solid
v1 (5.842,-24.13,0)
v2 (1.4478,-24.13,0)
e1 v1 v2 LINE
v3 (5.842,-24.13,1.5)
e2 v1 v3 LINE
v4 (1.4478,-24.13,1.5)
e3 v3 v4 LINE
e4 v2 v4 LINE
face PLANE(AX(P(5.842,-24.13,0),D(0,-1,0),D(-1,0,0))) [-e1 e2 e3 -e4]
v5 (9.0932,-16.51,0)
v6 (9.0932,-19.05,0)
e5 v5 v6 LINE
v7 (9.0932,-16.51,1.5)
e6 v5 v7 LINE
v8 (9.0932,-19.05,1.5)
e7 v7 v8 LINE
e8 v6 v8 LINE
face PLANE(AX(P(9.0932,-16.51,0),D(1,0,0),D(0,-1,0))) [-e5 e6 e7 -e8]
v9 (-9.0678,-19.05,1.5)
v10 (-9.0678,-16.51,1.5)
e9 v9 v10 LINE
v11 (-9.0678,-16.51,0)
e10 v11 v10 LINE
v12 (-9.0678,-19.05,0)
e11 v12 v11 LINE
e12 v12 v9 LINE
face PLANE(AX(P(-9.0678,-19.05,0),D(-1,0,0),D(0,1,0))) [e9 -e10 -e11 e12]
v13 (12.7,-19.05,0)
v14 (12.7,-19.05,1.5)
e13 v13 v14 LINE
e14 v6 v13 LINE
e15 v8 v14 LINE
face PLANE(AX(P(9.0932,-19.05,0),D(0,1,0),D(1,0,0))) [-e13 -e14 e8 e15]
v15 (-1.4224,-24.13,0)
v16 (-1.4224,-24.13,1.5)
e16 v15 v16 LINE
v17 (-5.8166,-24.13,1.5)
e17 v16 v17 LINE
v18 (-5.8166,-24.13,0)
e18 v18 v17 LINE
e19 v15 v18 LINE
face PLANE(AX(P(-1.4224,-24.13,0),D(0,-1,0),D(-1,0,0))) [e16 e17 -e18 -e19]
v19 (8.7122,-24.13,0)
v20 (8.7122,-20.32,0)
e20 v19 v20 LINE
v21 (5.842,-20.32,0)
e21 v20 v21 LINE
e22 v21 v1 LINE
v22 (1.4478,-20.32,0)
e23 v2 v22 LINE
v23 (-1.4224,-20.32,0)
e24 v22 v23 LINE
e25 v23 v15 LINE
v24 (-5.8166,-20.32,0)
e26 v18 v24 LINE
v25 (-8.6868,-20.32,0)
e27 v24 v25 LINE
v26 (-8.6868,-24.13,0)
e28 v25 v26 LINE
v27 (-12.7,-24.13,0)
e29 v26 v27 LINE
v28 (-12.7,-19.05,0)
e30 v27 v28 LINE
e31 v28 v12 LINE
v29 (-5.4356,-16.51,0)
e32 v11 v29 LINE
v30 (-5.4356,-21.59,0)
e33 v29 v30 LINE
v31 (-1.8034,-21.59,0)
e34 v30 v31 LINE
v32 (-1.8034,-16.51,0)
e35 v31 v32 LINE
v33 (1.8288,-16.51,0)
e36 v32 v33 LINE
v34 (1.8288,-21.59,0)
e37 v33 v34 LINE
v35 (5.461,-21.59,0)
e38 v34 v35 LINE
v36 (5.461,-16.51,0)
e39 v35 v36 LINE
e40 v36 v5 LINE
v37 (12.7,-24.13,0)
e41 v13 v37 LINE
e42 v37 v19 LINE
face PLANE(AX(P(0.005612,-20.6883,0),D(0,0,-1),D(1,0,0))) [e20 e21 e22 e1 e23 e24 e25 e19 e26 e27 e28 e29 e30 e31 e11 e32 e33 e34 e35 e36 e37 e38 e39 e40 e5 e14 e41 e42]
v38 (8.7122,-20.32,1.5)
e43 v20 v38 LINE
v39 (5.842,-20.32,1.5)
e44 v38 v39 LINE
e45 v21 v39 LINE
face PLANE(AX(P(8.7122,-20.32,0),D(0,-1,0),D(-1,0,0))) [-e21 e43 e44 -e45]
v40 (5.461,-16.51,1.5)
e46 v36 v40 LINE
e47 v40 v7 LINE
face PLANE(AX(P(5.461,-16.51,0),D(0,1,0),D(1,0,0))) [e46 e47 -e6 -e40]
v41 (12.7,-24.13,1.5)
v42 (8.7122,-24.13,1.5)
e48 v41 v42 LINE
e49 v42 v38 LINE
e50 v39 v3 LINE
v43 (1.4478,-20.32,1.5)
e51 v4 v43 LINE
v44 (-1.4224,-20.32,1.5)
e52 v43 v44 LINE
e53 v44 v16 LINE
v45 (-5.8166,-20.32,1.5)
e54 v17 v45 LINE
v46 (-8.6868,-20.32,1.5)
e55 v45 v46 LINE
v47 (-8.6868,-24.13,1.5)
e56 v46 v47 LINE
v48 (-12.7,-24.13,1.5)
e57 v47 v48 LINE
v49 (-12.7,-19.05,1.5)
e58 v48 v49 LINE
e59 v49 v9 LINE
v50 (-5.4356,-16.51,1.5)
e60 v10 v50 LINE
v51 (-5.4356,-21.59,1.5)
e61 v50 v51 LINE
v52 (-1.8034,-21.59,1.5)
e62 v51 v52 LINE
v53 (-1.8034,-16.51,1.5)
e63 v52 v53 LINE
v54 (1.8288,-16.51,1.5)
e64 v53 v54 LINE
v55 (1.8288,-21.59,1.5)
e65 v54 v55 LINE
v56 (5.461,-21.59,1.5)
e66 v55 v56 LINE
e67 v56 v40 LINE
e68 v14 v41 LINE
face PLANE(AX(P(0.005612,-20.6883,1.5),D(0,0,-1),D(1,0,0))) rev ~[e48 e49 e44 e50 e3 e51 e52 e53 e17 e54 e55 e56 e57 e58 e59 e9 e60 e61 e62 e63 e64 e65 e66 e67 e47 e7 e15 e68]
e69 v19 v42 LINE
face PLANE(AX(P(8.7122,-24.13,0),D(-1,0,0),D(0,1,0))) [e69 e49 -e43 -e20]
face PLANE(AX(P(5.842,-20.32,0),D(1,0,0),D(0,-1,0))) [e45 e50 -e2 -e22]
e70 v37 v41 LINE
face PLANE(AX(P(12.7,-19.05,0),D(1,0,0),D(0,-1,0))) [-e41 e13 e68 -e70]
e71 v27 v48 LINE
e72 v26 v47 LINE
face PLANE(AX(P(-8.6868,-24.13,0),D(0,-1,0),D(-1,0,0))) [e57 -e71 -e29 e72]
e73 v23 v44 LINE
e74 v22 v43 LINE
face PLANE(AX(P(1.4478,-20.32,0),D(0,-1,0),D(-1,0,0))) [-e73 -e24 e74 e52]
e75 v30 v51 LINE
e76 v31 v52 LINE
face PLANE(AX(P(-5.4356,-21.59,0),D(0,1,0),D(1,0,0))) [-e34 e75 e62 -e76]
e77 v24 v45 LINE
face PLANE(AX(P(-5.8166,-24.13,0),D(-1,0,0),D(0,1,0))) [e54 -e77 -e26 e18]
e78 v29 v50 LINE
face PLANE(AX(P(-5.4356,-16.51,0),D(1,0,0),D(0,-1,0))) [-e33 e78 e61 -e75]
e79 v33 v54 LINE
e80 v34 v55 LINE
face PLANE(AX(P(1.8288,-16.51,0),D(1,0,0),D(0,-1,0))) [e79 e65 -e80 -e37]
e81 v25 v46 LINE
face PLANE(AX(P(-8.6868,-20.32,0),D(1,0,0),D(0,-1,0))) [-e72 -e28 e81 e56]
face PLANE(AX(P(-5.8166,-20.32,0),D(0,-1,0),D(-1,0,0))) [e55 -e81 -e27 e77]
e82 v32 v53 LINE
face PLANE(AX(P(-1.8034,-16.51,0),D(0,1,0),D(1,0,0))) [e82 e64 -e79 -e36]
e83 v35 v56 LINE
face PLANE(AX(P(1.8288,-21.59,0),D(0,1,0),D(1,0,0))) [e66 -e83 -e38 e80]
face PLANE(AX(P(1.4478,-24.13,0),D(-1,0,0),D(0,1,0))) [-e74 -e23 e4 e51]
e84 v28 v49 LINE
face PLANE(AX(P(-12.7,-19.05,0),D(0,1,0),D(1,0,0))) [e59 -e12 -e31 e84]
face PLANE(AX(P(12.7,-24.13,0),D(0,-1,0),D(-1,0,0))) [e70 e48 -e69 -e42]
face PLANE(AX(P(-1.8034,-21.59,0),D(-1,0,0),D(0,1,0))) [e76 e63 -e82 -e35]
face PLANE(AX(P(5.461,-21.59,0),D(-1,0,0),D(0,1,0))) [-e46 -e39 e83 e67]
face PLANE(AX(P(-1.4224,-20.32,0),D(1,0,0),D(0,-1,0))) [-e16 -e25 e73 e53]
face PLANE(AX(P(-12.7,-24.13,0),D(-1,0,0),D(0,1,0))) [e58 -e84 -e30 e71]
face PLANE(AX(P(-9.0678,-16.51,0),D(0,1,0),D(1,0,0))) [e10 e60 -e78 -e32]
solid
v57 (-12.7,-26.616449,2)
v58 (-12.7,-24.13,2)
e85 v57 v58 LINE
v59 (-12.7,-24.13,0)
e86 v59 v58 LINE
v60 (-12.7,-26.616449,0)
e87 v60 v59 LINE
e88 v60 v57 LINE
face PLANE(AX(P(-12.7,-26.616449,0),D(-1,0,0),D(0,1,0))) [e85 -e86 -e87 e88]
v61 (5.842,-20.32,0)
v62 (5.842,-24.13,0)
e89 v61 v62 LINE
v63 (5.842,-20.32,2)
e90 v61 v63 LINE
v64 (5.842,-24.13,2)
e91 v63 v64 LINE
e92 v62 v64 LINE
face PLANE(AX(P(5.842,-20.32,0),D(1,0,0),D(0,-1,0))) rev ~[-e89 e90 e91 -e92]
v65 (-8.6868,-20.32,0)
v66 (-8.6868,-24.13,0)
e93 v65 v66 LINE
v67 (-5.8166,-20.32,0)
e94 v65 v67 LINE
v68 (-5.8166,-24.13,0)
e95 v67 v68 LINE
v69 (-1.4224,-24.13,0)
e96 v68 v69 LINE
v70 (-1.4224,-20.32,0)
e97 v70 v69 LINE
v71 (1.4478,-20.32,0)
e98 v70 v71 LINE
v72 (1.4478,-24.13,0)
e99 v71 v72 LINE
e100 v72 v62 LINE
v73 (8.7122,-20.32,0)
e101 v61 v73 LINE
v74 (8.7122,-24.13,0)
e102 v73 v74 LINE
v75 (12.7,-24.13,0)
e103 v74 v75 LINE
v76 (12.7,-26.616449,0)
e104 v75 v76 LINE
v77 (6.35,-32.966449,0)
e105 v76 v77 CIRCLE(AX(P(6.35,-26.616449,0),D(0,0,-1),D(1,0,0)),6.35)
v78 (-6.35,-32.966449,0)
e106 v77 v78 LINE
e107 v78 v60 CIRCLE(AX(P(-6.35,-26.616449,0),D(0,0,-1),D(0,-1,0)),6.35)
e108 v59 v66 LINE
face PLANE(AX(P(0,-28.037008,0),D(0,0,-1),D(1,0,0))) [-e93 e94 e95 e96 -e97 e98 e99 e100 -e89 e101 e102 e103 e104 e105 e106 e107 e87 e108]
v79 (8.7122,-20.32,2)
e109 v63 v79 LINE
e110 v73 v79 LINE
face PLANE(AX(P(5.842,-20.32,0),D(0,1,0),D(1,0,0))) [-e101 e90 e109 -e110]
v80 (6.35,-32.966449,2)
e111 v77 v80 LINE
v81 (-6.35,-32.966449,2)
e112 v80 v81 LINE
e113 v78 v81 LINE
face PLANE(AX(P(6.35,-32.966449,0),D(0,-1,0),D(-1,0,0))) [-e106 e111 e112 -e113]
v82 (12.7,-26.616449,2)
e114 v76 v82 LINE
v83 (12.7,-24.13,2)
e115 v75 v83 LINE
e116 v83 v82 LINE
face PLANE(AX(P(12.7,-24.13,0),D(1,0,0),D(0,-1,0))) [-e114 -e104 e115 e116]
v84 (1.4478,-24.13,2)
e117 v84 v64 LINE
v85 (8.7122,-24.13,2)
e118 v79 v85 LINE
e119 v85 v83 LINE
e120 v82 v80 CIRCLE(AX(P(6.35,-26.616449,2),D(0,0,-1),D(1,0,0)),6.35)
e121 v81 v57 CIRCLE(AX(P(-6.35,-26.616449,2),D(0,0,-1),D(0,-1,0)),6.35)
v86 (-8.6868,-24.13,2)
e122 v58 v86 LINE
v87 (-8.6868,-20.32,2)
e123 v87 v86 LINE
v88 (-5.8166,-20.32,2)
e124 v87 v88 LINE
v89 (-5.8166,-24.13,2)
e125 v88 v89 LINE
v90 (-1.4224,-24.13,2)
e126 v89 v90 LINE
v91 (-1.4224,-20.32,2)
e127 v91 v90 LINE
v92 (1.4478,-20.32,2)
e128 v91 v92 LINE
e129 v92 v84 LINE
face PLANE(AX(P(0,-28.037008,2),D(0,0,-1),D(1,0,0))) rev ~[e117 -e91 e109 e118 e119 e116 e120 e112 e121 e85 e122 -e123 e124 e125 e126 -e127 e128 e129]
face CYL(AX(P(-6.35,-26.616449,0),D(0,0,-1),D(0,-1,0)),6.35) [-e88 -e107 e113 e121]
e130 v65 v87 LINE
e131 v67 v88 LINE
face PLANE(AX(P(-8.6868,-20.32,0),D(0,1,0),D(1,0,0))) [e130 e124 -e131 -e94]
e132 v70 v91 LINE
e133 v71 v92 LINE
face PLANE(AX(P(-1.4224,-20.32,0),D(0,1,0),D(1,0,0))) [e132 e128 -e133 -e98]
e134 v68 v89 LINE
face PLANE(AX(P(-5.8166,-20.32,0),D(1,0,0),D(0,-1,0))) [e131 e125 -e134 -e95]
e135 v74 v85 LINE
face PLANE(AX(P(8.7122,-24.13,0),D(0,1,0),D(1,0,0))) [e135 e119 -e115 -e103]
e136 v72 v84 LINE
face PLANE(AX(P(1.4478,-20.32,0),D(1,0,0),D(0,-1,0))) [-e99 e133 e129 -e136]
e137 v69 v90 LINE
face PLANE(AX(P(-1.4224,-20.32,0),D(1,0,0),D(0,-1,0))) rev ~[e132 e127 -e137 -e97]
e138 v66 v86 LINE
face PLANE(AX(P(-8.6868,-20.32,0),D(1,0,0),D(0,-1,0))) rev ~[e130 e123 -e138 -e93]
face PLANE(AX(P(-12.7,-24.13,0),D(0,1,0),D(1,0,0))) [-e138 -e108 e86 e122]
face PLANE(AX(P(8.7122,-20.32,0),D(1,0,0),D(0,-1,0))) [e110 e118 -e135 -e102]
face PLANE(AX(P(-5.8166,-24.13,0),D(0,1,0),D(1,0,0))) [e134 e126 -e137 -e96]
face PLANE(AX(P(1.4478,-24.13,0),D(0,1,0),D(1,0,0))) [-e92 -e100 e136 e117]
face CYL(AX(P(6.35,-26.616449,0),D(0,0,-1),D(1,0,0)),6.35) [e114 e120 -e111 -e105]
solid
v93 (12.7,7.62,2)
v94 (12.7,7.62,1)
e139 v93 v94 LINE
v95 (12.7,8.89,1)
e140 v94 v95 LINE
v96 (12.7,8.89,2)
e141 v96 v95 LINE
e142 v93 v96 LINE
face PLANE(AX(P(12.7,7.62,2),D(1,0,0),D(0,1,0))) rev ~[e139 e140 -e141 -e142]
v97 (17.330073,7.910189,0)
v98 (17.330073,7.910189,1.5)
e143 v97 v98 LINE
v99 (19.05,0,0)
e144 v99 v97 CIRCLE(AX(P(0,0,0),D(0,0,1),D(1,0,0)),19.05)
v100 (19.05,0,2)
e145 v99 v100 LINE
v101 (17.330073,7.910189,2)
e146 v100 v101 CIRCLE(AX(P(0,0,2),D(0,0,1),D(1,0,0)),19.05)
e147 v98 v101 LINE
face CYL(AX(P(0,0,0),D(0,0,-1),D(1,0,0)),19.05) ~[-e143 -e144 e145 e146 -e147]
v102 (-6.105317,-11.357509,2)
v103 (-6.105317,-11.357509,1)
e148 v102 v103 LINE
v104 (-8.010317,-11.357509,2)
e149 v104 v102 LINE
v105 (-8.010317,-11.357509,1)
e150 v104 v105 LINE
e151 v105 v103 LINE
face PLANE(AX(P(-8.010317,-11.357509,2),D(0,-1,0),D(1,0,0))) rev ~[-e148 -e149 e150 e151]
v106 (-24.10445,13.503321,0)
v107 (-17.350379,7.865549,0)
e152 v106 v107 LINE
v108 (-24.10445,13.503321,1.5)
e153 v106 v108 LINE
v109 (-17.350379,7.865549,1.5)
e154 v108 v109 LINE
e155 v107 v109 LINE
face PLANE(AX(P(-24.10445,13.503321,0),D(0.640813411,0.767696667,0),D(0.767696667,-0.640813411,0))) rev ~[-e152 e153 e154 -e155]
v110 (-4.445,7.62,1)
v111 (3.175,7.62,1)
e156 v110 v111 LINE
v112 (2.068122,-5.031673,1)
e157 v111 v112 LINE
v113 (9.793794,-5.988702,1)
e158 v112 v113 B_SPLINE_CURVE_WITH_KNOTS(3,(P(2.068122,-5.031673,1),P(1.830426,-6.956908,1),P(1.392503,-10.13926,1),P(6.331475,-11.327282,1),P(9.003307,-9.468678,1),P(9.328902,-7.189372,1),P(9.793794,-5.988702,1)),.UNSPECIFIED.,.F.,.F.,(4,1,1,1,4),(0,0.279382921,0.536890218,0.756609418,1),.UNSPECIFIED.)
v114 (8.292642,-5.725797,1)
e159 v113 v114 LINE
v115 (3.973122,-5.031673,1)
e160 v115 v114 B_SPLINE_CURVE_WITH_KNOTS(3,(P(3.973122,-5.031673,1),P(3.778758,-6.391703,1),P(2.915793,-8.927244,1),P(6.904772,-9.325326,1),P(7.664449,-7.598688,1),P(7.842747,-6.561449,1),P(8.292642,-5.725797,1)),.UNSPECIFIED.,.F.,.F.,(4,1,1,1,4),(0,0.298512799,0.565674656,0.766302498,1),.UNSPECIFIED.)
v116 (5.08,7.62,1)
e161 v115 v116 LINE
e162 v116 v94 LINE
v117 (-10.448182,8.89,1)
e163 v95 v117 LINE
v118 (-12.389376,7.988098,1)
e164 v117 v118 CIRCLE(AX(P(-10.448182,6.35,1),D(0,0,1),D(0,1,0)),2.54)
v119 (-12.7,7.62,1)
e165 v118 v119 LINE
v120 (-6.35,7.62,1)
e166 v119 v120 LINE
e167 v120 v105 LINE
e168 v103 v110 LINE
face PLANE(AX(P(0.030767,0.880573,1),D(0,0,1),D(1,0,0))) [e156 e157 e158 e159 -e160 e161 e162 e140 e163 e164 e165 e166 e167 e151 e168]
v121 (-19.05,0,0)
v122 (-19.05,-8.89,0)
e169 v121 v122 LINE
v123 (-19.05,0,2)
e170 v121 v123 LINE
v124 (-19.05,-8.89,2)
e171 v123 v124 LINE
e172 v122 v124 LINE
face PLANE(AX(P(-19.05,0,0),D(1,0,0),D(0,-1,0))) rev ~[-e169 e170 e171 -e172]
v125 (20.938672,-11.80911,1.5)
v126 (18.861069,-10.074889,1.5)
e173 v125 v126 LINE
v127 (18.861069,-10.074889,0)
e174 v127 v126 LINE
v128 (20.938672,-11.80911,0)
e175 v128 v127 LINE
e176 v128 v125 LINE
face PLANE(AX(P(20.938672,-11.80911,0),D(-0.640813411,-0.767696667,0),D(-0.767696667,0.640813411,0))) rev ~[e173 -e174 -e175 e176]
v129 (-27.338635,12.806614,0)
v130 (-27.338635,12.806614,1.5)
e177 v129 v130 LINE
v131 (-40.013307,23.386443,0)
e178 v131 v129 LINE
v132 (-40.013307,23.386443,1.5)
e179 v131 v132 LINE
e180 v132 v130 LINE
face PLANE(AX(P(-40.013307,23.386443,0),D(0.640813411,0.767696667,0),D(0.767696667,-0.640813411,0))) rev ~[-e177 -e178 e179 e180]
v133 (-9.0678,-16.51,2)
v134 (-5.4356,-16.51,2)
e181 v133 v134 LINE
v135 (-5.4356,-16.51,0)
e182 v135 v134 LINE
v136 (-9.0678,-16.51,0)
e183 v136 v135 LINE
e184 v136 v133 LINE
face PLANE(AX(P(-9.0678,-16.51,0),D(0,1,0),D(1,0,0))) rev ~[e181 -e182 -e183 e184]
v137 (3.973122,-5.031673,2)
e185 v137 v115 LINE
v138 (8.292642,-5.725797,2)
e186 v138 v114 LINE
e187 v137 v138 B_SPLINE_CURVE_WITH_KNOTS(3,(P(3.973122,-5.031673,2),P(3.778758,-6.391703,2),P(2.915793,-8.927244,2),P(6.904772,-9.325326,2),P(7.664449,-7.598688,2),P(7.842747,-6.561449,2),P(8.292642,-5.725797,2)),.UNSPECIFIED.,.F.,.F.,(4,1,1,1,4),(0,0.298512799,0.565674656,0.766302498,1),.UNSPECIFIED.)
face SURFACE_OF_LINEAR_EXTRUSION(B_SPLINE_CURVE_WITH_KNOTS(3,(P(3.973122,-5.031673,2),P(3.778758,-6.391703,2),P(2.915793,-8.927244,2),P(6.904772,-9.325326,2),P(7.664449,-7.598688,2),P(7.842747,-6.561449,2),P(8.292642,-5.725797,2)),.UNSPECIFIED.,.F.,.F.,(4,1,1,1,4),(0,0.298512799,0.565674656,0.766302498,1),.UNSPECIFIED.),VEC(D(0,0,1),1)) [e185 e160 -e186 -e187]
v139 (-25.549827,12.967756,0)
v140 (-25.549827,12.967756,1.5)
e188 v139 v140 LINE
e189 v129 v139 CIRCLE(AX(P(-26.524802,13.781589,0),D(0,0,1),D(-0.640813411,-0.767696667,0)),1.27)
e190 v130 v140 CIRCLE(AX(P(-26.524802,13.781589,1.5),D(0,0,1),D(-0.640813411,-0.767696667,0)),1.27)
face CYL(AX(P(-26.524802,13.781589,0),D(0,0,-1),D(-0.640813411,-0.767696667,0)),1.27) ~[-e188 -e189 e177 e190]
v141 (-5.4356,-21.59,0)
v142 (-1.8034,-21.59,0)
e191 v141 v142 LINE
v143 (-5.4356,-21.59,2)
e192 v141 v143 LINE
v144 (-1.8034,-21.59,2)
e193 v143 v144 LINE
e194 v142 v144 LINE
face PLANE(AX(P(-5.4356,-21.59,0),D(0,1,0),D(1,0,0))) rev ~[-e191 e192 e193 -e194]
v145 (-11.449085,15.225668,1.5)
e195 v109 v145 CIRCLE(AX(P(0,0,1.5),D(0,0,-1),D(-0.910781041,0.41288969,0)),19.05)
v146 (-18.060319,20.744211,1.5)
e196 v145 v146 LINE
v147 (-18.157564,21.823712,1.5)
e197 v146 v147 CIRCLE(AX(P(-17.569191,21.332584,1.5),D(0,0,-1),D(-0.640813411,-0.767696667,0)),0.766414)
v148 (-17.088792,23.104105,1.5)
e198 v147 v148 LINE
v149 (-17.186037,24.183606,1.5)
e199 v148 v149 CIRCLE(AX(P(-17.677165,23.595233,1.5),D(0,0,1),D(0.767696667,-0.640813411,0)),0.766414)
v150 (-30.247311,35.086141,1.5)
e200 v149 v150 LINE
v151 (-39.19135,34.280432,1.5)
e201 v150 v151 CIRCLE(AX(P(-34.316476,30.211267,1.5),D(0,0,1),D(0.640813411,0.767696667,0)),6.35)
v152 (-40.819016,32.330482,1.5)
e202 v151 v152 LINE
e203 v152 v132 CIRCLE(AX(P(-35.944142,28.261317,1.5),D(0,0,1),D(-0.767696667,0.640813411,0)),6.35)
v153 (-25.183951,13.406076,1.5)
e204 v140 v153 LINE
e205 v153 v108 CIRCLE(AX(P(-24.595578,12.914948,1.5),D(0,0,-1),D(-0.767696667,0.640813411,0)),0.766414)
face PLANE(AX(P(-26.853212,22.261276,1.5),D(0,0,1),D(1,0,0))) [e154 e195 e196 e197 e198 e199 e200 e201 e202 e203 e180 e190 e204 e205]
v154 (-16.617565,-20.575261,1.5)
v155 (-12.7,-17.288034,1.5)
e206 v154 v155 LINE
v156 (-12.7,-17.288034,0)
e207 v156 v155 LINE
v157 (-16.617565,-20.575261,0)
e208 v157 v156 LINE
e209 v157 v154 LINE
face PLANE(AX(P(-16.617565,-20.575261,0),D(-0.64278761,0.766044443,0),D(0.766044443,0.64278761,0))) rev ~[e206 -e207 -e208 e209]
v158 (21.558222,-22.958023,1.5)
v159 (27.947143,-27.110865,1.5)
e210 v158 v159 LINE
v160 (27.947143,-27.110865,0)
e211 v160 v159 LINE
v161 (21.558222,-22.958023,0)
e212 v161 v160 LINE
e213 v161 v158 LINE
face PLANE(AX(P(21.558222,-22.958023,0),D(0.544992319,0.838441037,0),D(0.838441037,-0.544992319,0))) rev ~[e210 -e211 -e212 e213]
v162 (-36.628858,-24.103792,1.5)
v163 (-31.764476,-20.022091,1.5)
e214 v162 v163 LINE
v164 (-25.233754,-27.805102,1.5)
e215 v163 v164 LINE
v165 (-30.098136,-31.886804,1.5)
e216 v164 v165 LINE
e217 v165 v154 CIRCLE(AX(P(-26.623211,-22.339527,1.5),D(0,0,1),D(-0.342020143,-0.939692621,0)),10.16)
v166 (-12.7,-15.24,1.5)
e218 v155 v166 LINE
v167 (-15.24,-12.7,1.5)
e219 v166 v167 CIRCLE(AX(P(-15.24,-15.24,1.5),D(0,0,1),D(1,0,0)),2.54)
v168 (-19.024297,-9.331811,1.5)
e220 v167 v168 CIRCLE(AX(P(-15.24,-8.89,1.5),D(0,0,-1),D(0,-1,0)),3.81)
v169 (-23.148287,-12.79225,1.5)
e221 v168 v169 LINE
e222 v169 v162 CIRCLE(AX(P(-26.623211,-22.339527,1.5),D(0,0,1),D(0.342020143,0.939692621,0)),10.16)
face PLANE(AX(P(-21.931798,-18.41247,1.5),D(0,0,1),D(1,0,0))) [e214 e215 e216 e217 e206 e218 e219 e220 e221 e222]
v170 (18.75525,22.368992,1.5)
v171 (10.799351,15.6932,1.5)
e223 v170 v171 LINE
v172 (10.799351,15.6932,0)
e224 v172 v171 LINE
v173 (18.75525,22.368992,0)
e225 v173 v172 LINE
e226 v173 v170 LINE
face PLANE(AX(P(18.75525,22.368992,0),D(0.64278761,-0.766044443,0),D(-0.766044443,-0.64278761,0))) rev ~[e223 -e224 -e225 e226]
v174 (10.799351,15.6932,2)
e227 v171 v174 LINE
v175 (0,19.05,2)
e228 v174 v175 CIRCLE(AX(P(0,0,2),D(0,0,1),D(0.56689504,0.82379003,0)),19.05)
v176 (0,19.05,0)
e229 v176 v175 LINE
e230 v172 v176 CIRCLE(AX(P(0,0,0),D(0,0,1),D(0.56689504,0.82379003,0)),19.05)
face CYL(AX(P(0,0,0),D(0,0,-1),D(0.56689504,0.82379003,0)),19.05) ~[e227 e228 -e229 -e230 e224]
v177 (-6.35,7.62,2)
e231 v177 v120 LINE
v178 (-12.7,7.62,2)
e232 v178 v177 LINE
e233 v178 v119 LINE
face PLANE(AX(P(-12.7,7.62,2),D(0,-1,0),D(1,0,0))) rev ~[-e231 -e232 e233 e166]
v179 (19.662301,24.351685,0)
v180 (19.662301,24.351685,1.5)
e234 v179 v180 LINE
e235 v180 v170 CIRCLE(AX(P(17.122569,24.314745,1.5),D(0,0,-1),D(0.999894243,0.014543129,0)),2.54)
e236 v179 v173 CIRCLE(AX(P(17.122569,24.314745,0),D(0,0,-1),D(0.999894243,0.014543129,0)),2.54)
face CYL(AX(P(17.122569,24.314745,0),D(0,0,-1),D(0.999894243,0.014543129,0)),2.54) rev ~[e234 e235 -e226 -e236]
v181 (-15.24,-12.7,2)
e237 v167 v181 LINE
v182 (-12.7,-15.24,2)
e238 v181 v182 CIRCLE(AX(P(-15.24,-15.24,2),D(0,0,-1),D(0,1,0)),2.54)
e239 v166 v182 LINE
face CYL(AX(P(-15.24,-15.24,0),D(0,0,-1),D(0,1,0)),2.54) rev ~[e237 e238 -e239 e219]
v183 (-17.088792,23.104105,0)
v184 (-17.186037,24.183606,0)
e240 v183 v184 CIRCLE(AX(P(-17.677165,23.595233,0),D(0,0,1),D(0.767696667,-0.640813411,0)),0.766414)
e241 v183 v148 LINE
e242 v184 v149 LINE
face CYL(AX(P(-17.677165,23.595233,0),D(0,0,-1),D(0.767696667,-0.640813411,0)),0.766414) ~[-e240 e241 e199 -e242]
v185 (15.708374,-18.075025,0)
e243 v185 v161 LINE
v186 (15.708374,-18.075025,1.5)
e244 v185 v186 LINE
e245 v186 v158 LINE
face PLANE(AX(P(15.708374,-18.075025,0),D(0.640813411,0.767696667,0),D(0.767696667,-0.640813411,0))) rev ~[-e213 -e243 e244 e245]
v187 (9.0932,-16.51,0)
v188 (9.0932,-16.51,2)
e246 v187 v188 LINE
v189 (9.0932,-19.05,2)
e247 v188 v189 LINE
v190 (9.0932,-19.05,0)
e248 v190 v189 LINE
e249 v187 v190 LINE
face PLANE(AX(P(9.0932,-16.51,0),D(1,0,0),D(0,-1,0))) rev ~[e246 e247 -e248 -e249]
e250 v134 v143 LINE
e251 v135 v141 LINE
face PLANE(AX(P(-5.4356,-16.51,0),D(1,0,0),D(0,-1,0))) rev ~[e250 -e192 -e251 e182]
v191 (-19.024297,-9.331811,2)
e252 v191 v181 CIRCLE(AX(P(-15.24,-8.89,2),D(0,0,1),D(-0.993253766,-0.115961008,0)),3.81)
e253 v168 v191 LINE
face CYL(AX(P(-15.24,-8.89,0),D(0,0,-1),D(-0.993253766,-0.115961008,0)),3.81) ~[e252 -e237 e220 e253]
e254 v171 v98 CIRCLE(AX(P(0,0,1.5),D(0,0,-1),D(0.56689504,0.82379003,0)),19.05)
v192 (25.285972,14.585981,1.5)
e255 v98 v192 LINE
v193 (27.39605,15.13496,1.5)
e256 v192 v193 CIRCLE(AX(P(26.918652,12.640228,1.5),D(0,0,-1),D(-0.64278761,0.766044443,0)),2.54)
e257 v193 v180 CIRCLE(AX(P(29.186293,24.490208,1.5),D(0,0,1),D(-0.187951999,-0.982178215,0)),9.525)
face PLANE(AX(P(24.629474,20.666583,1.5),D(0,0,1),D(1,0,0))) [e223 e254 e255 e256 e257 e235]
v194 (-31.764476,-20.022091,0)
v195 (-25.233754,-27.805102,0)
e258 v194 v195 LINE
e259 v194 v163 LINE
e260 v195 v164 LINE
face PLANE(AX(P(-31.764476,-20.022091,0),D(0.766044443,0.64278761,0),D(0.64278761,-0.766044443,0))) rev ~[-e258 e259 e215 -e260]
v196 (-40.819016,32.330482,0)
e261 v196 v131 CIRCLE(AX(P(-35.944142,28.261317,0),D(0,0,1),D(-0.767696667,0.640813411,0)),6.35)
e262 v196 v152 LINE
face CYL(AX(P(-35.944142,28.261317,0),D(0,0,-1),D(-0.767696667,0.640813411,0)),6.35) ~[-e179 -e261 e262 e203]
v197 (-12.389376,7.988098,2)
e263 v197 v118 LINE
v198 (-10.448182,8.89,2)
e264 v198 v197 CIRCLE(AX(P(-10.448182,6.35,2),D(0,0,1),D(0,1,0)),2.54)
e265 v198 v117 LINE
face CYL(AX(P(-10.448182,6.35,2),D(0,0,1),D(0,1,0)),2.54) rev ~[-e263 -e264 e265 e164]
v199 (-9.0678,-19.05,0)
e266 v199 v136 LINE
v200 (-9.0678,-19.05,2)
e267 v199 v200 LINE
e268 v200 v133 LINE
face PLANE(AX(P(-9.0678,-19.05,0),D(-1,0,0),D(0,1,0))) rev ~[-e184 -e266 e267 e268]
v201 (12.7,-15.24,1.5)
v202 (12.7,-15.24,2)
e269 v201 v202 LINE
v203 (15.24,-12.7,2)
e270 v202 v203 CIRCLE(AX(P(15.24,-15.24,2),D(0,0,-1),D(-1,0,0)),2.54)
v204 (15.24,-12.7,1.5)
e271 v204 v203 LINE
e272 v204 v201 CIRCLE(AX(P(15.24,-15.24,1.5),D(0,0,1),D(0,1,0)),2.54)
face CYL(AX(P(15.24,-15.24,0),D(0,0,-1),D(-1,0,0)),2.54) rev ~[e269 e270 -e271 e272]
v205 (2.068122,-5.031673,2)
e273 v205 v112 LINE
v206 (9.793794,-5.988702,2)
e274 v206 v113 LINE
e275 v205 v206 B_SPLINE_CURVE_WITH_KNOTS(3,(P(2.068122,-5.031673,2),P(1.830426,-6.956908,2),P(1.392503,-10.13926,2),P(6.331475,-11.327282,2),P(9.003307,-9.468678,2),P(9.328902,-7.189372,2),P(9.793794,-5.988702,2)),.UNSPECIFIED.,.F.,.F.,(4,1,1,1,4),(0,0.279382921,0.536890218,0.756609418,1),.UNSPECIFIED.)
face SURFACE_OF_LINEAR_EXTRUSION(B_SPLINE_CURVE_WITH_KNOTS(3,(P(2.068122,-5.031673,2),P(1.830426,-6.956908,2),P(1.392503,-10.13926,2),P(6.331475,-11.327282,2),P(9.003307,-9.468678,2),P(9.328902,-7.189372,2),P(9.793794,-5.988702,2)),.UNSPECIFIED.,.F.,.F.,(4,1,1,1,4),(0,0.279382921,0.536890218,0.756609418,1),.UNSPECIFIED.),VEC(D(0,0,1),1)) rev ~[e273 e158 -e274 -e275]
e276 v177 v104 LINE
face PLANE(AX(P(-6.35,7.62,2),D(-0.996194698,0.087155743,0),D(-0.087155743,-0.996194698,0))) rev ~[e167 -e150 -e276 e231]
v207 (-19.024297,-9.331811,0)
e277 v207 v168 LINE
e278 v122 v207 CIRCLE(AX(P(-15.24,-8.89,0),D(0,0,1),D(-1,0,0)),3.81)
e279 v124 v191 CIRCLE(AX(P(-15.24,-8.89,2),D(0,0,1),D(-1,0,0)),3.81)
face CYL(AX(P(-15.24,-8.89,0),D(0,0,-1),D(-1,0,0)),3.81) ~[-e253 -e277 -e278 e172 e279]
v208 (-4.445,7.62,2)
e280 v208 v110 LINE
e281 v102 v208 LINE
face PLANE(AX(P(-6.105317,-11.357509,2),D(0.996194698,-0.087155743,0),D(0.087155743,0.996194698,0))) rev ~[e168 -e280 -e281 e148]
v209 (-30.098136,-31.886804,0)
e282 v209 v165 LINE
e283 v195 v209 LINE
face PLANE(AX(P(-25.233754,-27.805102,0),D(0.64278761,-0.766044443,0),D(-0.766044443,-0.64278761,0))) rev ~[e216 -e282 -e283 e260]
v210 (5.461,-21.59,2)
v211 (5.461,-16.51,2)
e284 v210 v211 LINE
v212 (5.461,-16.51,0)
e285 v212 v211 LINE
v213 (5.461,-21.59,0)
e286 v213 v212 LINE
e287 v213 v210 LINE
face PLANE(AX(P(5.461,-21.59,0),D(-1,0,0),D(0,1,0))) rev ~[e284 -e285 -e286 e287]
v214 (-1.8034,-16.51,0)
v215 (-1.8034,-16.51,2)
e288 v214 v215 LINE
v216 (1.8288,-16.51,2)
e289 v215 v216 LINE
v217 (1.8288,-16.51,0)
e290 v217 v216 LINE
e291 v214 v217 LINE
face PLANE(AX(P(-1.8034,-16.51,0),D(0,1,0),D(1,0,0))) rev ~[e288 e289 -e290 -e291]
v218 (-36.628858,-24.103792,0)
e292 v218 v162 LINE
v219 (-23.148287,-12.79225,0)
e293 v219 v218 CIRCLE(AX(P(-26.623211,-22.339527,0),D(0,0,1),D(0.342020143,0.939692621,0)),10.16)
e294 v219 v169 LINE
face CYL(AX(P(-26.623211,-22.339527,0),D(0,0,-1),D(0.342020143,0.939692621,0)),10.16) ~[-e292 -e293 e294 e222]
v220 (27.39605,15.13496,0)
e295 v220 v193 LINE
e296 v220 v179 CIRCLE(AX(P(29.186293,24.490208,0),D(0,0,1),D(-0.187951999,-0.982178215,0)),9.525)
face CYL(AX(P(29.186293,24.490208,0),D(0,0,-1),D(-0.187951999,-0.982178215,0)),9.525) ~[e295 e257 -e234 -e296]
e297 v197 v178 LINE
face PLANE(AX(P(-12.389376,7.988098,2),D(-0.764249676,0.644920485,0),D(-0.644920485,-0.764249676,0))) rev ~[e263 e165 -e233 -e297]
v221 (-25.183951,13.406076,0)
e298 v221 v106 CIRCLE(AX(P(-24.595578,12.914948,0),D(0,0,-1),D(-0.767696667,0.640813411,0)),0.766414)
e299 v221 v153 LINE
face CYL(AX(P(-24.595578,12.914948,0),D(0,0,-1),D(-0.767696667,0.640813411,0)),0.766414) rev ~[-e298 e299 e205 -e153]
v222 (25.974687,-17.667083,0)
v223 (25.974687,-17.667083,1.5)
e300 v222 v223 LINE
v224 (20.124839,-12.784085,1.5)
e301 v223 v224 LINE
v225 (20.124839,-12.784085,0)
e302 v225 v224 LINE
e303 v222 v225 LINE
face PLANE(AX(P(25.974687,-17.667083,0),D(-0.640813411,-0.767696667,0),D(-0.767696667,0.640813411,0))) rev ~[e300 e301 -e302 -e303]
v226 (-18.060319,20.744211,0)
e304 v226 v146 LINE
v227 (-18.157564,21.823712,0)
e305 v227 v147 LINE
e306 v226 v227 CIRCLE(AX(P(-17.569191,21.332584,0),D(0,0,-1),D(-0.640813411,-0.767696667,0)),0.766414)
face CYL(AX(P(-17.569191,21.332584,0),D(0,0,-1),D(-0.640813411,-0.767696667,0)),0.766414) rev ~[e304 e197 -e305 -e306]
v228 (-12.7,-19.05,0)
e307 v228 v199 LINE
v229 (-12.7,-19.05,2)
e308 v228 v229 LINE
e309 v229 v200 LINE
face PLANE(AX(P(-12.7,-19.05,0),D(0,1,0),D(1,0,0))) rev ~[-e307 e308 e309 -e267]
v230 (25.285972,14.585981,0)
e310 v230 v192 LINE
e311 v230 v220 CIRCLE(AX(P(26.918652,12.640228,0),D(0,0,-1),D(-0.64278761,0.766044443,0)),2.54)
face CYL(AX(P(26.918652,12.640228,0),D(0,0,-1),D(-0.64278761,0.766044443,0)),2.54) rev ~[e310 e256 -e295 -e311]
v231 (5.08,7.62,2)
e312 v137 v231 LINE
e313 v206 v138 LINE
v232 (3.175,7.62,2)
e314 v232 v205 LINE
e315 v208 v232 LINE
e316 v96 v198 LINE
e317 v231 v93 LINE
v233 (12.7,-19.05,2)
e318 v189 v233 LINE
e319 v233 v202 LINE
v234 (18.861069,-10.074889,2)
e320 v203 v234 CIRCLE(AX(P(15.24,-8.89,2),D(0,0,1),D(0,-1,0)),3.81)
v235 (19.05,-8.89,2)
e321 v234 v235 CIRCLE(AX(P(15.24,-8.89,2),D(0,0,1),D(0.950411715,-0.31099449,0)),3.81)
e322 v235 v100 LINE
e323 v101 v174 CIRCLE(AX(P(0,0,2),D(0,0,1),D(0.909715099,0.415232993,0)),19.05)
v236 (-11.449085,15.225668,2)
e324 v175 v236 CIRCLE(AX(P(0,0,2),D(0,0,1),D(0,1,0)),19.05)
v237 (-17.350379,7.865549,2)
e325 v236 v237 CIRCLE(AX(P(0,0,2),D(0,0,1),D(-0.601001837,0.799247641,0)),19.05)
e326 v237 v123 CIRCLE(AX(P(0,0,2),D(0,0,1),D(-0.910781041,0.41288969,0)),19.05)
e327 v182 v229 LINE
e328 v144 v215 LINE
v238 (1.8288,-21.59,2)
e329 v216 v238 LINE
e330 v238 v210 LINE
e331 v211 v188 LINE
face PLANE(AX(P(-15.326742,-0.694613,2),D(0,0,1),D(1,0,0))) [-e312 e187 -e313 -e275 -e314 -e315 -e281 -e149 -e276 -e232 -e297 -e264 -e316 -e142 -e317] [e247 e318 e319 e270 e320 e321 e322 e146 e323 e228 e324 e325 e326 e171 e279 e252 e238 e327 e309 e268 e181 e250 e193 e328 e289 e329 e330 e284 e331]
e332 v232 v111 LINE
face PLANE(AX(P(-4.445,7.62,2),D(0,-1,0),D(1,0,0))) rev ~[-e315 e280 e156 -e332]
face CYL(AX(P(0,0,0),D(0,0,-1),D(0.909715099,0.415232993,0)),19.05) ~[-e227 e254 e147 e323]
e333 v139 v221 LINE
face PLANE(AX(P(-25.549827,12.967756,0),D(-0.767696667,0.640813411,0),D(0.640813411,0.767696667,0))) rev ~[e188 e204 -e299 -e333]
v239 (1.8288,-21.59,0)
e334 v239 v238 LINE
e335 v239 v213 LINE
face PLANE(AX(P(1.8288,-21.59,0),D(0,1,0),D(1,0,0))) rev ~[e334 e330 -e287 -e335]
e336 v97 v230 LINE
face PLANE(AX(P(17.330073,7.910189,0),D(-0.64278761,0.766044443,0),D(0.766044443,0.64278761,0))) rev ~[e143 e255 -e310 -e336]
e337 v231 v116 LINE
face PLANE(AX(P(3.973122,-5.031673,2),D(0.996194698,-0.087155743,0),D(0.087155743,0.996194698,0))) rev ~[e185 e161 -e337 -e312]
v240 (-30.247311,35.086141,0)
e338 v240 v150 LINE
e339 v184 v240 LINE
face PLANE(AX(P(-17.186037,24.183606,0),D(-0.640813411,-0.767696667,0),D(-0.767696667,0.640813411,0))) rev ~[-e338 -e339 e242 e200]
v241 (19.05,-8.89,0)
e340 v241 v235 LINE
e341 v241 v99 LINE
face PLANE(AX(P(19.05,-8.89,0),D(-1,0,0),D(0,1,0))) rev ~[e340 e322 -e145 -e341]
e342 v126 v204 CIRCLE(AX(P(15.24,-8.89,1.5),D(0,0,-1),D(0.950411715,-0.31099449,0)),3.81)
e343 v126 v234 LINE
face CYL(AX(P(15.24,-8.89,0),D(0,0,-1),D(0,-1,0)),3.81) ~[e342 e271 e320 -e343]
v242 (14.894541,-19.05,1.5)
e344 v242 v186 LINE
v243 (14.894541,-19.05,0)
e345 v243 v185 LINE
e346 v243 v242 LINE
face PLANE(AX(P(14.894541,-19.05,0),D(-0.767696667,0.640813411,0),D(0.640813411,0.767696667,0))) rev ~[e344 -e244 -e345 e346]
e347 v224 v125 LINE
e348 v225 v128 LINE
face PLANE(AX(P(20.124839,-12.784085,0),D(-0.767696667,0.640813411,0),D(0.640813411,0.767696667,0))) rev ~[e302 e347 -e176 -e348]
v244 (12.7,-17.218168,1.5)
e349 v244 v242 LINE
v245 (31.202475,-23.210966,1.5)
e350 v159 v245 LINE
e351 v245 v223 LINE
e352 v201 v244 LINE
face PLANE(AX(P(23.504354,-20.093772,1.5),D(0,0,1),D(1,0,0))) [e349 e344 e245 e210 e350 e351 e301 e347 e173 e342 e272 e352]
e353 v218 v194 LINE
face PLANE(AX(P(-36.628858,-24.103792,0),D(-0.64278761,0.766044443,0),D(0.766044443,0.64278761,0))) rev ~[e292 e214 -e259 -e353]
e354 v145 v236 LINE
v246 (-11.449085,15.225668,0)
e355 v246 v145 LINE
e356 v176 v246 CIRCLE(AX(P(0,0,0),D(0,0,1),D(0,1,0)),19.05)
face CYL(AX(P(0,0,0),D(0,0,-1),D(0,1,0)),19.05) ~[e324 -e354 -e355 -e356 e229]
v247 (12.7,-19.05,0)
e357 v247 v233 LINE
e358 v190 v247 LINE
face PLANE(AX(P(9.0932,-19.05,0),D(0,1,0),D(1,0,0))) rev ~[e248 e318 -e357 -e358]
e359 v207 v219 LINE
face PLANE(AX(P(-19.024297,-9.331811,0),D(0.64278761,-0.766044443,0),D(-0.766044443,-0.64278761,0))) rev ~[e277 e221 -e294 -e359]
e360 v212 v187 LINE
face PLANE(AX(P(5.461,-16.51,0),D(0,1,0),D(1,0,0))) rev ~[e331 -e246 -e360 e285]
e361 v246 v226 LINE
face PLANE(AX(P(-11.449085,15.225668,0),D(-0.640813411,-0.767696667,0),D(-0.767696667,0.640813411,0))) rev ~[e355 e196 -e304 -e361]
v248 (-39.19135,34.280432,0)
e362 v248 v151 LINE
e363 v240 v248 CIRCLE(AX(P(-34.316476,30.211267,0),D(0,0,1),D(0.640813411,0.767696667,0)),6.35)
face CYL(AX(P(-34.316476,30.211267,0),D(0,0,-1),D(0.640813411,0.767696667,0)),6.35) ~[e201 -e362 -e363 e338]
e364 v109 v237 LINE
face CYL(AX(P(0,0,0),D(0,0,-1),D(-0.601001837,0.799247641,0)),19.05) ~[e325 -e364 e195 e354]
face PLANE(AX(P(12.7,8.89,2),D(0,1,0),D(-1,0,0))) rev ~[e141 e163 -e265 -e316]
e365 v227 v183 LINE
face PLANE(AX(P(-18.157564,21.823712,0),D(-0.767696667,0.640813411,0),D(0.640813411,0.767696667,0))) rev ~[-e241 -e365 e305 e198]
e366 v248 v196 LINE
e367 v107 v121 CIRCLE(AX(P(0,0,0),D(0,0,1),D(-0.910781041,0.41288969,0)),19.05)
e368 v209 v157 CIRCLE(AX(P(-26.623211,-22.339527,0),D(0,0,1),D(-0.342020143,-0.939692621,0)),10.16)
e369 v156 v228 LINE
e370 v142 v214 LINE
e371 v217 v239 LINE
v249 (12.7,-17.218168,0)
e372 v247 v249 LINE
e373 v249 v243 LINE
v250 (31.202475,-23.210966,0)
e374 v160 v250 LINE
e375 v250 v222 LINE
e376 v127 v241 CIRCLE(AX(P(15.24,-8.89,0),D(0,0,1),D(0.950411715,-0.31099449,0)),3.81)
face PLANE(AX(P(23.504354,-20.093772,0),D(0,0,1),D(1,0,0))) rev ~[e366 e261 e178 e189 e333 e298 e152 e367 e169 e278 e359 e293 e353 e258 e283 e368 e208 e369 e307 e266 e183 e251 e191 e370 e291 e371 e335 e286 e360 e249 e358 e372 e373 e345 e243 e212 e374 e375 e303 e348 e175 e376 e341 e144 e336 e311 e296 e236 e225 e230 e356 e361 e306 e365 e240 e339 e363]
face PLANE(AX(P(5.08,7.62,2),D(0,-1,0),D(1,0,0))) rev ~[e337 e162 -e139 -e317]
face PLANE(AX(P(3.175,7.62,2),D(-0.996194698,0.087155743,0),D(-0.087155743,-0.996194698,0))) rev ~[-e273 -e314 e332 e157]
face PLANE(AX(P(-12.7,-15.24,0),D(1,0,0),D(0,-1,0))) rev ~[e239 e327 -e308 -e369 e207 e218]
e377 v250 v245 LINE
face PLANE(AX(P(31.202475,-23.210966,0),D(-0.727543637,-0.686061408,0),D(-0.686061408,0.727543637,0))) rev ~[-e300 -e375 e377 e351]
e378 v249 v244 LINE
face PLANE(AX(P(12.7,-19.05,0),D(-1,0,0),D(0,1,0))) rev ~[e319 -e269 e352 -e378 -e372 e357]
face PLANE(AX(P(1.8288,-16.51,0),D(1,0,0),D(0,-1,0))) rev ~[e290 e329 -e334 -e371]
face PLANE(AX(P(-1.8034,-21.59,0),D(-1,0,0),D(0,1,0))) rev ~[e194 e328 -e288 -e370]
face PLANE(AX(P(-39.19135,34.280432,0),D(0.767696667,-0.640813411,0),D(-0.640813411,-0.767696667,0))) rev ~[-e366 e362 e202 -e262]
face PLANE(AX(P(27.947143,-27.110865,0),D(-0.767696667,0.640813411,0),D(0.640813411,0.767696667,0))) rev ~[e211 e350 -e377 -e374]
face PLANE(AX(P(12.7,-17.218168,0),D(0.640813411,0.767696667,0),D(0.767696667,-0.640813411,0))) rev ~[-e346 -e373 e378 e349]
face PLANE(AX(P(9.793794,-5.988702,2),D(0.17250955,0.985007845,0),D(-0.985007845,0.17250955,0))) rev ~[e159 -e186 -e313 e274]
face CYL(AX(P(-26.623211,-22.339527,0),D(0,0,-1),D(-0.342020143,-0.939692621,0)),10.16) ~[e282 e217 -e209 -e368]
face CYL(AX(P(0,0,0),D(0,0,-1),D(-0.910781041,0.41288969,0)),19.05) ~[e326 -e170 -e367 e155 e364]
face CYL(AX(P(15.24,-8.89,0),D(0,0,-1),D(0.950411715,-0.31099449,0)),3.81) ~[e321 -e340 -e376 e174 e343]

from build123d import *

# Parameters (mm, degrees)
F1_DEPTH = 2
F2_DEPTH = 1.5
F4_DEPTH = 1
F5_W     = 2.8702
F5_H     = 3.81
F6_DEPTH = 2
F8_DEPTH = 1.5


with BuildPart() as f1:
    # F0 (on Top) → F1 (new body)
    with BuildSketch(Plane.XY):
        with BuildLine():
            ThreePointArc((-17.350378822, 7.865548597), (-18.6202472669, 4.0235421857), (-19.05, 0))
            Line((-19.05, 0), (-19.05, -8.89))
            ThreePointArc((-19.05, -8.89), (-19.0435687847, -9.1112792359), (-19.0242968503, -9.3318114407))
            Line((-19.0242968503, -9.3318114407), (-7.9152189824, -0.010188299))
            Line((-7.9152189824, -0.010188299), (-17.350378822, 7.865548597))
        make_face()
        with BuildLine():
            Line((17.3300726338, 7.9101885255), (7.3486507997, -0.4652188541))
            Line((7.3486507997, -0.4652188541), (18.8610686328, -10.0748890061))
            ThreePointArc((18.8610686328, -10.0748890061), (19.002470697, -9.4899285412), (19.05, -8.89))
            Line((19.05, -8.89), (19.05, 0))
            ThreePointArc((19.05, 0), (18.6150528293, 4.047506413), (17.3300726338, 7.9101885255))
        make_face()
        with BuildLine():
            ThreePointArc((0, 19.05), (-6.0354590928, 18.0686395044), (-11.4490849965, 15.2256675631))
            Line((-11.4490849965, 15.2256675631), (-0.575094857, 6.1489071474))
            Line((-0.575094857, 6.1489071474), (10.7993505194, 15.6932000676))
            ThreePointArc((10.7993505194, 15.6932000676), (5.6545131848, 18.1914535055), (0, 19.05))
        make_face()
        Polygon((12.7, -17.2181681869), (0.0085266744, -6.6243143005), (-12.7, -17.2880343458), (-12.7, -19.05), (-9.0678, -19.05), (-9.0678, -16.51), (-5.4356, -16.51), (-5.4356, -21.59), (-1.8034, -21.59), (-1.8034, -16.51), (1.8288, -16.51), (1.8288, -21.59), (5.461, -21.59), (5.461, -16.51), (9.0932, -16.51), (9.0932, -19.05), (12.7, -19.05), align=None)
        with BuildLine():
            ThreePointArc((-11.4490849965, 15.2256675631), (-14.8625407268, 11.9166850736), (-17.350378822, 7.865548597))
            Line((-17.350378822, 7.865548597), (-7.9152189824, -0.010188299))
            Line((-7.9152189824, -0.010188299), (-0.575094857, 6.1489071474))
            Line((-0.575094857, 6.1489071474), (-11.4490849965, 15.2256675631))
        make_face()
        with BuildLine():
            Line((10.7993505194, 15.6932000676), (-0.575094857, 6.1489071474))
            Line((-0.575094857, 6.1489071474), (7.3486507997, -0.4652188541))
            Line((7.3486507997, -0.4652188541), (17.3300726338, 7.9101885255))
            ThreePointArc((17.3300726338, 7.9101885255), (14.5931466414, 12.2451039645), (10.7993505194, 15.6932000676))
        make_face()
        with BuildLine():
            Line((-7.9152189824, -0.010188299), (-19.0242968503, -9.3318114407))
            ThreePointArc((-19.0242968503, -9.3318114407), (-17.7730612321, -11.7359973286), (-15.24, -12.7))
            ThreePointArc((-15.24, -12.7), (-13.4439487758, -13.4439487758), (-12.7, -15.24))
            Line((-12.7, -15.24), (-12.7, -17.2880343458))
            Line((-12.7, -17.2880343458), (0.0085266744, -6.6243143005))
            Line((0.0085266744, -6.6243143005), (-7.9152189824, -0.010188299))
        make_face()
        with BuildLine():
            Line((7.3486507997, -0.4652188541), (0.0085266744, -6.6243143005))
            Line((0.0085266744, -6.6243143005), (12.7, -17.2181681869))
            Line((12.7, -17.2181681869), (12.7, -15.24))
            ThreePointArc((12.7, -15.24), (13.4439487758, -13.4439487758), (15.24, -12.7))
            ThreePointArc((15.24, -12.7), (17.4762550041, -11.9746820836), (18.8610686328, -10.0748890061))
            Line((18.8610686328, -10.0748890061), (7.3486507997, -0.4652188541))
        make_face()
        Polygon((-0.575094857, 6.1489071474), (-7.9152189824, -0.010188299), (0.0085266744, -6.6243143005), (7.3486507997, -0.4652188541), align=None)
    extrude(amount=F1_DEPTH)

    # F0 (on Top) → F2 (join)
    with BuildSketch(Plane.XY):
        Polygon((20.1248387317, -12.7840851229), (15.7083738332, -18.0750252334), (21.5582224331, -22.958023427), (27.9471431324, -27.1108648998), (31.2024752615, -23.2109658333), (25.9746873315, -17.6670833165), align=None)
        with BuildLine():
            Line((18.7552497683, 22.3689921931), (10.7993505194, 15.6932000676))
            ThreePointArc((10.7993505194, 15.6932000676), (14.5931466414, 12.2451039645), (17.3300726338, 7.9101885255))
            Line((17.3300726338, 7.9101885255), (25.2859718828, 14.585980651))
            ThreePointArc((25.2859718828, 14.585980651), (26.2791103213, 15.0983949516), (27.3960504896, 15.1349604315))
            ThreePointArc((27.3960504896, 15.1349604315), (36.4828666035, 30.6127599113), (19.6623006172, 24.351684626))
            ThreePointArc((19.6623006172, 24.351684626), (19.4323360244, 23.2580628177), (18.7552497683, 22.3689921931))
        make_face()
        with BuildLine():
            Line((-24.1044498645, 13.503321291), (-17.350378822, 7.865548597))
            ThreePointArc((-17.350378822, 7.865548597), (-14.8625407268, 11.9166850736), (-11.4490849965, 15.2256675631))
            Line((-11.4490849965, 15.2256675631), (-18.0603189015, 20.7442109348))
            ThreePointArc((-18.0603189015, 20.7442109348), (-18.3325134958, 21.2638215274), (-18.1575639657, 21.8237123444))
            Line((-18.1575639657, 21.8237123444), (-17.0887919872, 23.1041048439))
            ThreePointArc((-17.0887919872, 23.1041048439), (-16.9138424571, 23.663995661), (-17.1860370515, 24.1836062535))
            Line((-17.1860370515, 24.1836062535), (-30.2473105474, 35.0861405327))
            ThreePointArc((-30.2473105474, 35.0861405327), (-34.8861977743, 36.5356573238), (-39.191349542, 34.2804318609))
            Line((-39.191349542, 34.2804318609), (-40.8190156065, 32.3304823277))
            ThreePointArc((-40.8190156065, 32.3304823277), (-42.2685323976, 27.6915951008), (-40.0133069347, 23.3864433331))
            Line((-40.0133069347, 23.3864433331), (-27.3386349685, 12.8066139135))
            ThreePointArc((-27.3386349685, 12.8066139135), (-26.4108575231, 12.5167105553), (-25.5498271696, 12.9677556479))
            Line((-25.5498271696, 12.9677556479), (-25.1839512741, 13.4060762268))
            ThreePointArc((-25.1839512741, 13.4060762268), (-24.6643406815, 13.6782708211), (-24.1044498645, 13.503321291))
        make_face()
        with BuildLine():
            ThreePointArc((-15.24, -12.7), (-17.7730612321, -11.7359973286), (-19.0242968503, -9.3318114407))
            Line((-19.0242968503, -9.3318114407), (-23.1482866563, -12.7922497659))
            Line((-23.1482866563, -12.7922497659), (-31.7644758693, -20.0220909567))
            Line((-31.7644758693, -20.0220909567), (-25.2337537549, -27.8051024988))
            Line((-25.2337537549, -27.8051024988), (-16.6175645419, -20.575261308))
            Line((-16.6175645419, -20.575261308), (-12.7, -17.2880343458))
            Line((-12.7, -17.2880343458), (-12.7, -15.24))
            ThreePointArc((-12.7, -15.24), (-13.4439487758, -13.4439487758), (-15.24, -12.7))
        make_face()
        with BuildLine():
            Line((-16.6175645419, -20.575261308), (-25.2337537549, -27.8051024988))
            Line((-25.2337537549, -27.8051024988), (-30.0981359687, -31.8868038203))
            ThreePointArc((-30.0981359687, -31.8868038203), (-20.0924891981, -30.1225383352), (-16.6175645419, -20.575261308))
        make_face()
        with BuildLine():
            Line((-31.7644758693, -20.0220909567), (-23.1482866563, -12.7922497659))
            ThreePointArc((-23.1482866563, -12.7922497659), (-33.1539334269, -14.556515251), (-36.6288580831, -24.1037922782))
            Line((-36.6288580831, -24.1037922782), (-31.7644758693, -20.0220909567))
        make_face()
        with BuildLine():
            Line((12.7, -15.24), (12.7, -17.2181681869))
            Line((12.7, -17.2181681869), (14.894540801, -19.05))
            Line((14.894540801, -19.05), (15.7083738332, -18.0750252334))
            Line((15.7083738332, -18.0750252334), (20.1248387317, -12.7840851229))
            Line((20.1248387317, -12.7840851229), (20.938671764, -11.8091103562))
            Line((20.938671764, -11.8091103562), (18.8610686328, -10.0748890061))
            ThreePointArc((18.8610686328, -10.0748890061), (17.4762550041, -11.9746820836), (15.24, -12.7))
            ThreePointArc((15.24, -12.7), (13.4439487758, -13.4439487758), (12.7, -15.24))
        make_face()
    extrude(amount=F2_DEPTH)

    # F3 (on face) → F4 (cut)
    with BuildSketch(Plane.XY.offset(2)):
        with BuildLine():
            Line((12.7, 8.89), (-10.4481822536, 8.89))
            ThreePointArc((-10.4481822536, 8.89), (-11.5184231136, 8.6535156829), (-12.3893764312, 7.9880980327))
            Line((-12.3893764312, 7.9880980327), (-12.7, 7.62))
            Line((-12.7, 7.62), (-6.35, 7.62))
            Line((-6.35, 7.62), (-8.0103168993, -11.3575089986))
            Line((-8.0103168993, -11.3575089986), (-6.1053168993, -11.3575089986))
            Line((-6.1053168993, -11.3575089986), (-4.445, 7.62))
            Line((-4.445, 7.62), (3.175, 7.62))
            Line((3.175, 7.62), (2.0681220671, -5.0316726658))
            add(Edge.make_bspline(
                [(2.0681220671, -5.0316726658), (1.8304261093, -6.956908444), (1.3925031709, -10.1392600556), (6.3314754855, -11.3272816981), (9.0033069328, -9.4686784473), (9.3289021809, -7.1893715816), (9.7937943782, -5.9887018198)],
                knots=[0, 0, 0, 0, 0.2793829209, 0.5368902178, 0.7566094182, 1, 1, 1, 1], degree=3))
            Line((9.7937943782, -5.9887018198), (8.292642422, -5.7257972658))
            add(Edge.make_bspline(
                [(3.9731220671, -5.0316726658), (3.778757999, -6.3917031803), (2.9157932186, -8.9272441493), (6.9047718659, -9.3253261705), (7.6644494392, -7.5986876784), (7.8427474677, -6.5614490151), (8.292642422, -5.7257972658)],
                knots=[0, 0, 0, 0, 0.2985127985, 0.5656746563, 0.7663024976, 1, 1, 1, 1], degree=3))
            Line((3.9731220671, -5.0316726658), (5.08, 7.62))
            Line((5.08, 7.62), (12.7, 7.62))
            Line((12.7, 7.62), (12.7, 8.89))
        make_face()
    extrude(amount=-F4_DEPTH, mode=Mode.SUBTRACT)


with BuildPart() as f6:
    # F5 (on face) → F6 (new body)
    with BuildSketch(Plane(origin=(0, 0, 0), x_dir=(1, 0, 0), z_dir=(0, 0, -1))):
        with BuildLine():
            ThreePointArc((12.7, 26.6164491925), (10.8401280605, 31.1065772531), (6.35, 32.9664491925))
            Line((6.35, 32.9664491925), (-6.35, 32.9664491925))
            ThreePointArc((-6.35, 32.9664491925), (-10.8401280605, 31.1065772531), (-12.7, 26.6164491925))
            Line((-12.7, 26.6164491925), (-12.7, 24.13))
            Line((-12.7, 24.13), (-8.6868, 24.13))
            Line((-8.6868, 24.13), (-5.8166, 24.13))
            Line((-5.8166, 24.13), (-1.4224, 24.13))
            Line((-1.4224, 24.13), (1.4478, 24.13))
            Line((1.4478, 24.13), (5.842, 24.13))
            Line((5.842, 24.13), (8.7122, 24.13))
            Line((8.7122, 24.13), (12.7, 24.13))
            Line((12.7, 24.13), (12.7, 26.6164491925))
        make_face()
        with Locations((7.2771, 22.225)):
            Rectangle(F5_W, F5_H)
        with Locations((-7.2517, 22.225)):
            Rectangle(F5_W, F5_H)
        with Locations((0.0127, 22.225)):
            Rectangle(F5_W, F5_H)
    extrude(amount=-F6_DEPTH)


with BuildPart() as f8:
    # F7 (on face) → F8 (new body)
    with BuildSketch(Plane(origin=(0, 0, 0), x_dir=(1, 0, 0), z_dir=(0, 0, -1))):
        Polygon((9.0932, 19.05), (12.7, 19.05), (12.7, 24.13), (8.7122, 24.13), (8.7122, 20.32), (5.842, 20.32), (5.842, 24.13), (1.4478, 24.13), (1.4478, 20.32), (-1.4224, 20.32), (-1.4224, 24.13), (-5.8166, 24.13), (-5.8166, 20.32), (-8.6868, 20.32), (-8.6868, 24.13), (-12.7, 24.13), (-12.7, 19.05), (-9.0678, 19.05), (-9.0678, 16.51), (-5.4356, 16.51), (-5.4356, 21.59), (-1.8034, 21.59), (-1.8034, 16.51), (1.8288, 16.51), (1.8288, 21.59), (5.461, 21.59), (5.461, 16.51), (9.0932, 16.51), align=None)
    extrude(amount=-F8_DEPTH)


solid = Compound([f1.part, f6.part, f8.part])
